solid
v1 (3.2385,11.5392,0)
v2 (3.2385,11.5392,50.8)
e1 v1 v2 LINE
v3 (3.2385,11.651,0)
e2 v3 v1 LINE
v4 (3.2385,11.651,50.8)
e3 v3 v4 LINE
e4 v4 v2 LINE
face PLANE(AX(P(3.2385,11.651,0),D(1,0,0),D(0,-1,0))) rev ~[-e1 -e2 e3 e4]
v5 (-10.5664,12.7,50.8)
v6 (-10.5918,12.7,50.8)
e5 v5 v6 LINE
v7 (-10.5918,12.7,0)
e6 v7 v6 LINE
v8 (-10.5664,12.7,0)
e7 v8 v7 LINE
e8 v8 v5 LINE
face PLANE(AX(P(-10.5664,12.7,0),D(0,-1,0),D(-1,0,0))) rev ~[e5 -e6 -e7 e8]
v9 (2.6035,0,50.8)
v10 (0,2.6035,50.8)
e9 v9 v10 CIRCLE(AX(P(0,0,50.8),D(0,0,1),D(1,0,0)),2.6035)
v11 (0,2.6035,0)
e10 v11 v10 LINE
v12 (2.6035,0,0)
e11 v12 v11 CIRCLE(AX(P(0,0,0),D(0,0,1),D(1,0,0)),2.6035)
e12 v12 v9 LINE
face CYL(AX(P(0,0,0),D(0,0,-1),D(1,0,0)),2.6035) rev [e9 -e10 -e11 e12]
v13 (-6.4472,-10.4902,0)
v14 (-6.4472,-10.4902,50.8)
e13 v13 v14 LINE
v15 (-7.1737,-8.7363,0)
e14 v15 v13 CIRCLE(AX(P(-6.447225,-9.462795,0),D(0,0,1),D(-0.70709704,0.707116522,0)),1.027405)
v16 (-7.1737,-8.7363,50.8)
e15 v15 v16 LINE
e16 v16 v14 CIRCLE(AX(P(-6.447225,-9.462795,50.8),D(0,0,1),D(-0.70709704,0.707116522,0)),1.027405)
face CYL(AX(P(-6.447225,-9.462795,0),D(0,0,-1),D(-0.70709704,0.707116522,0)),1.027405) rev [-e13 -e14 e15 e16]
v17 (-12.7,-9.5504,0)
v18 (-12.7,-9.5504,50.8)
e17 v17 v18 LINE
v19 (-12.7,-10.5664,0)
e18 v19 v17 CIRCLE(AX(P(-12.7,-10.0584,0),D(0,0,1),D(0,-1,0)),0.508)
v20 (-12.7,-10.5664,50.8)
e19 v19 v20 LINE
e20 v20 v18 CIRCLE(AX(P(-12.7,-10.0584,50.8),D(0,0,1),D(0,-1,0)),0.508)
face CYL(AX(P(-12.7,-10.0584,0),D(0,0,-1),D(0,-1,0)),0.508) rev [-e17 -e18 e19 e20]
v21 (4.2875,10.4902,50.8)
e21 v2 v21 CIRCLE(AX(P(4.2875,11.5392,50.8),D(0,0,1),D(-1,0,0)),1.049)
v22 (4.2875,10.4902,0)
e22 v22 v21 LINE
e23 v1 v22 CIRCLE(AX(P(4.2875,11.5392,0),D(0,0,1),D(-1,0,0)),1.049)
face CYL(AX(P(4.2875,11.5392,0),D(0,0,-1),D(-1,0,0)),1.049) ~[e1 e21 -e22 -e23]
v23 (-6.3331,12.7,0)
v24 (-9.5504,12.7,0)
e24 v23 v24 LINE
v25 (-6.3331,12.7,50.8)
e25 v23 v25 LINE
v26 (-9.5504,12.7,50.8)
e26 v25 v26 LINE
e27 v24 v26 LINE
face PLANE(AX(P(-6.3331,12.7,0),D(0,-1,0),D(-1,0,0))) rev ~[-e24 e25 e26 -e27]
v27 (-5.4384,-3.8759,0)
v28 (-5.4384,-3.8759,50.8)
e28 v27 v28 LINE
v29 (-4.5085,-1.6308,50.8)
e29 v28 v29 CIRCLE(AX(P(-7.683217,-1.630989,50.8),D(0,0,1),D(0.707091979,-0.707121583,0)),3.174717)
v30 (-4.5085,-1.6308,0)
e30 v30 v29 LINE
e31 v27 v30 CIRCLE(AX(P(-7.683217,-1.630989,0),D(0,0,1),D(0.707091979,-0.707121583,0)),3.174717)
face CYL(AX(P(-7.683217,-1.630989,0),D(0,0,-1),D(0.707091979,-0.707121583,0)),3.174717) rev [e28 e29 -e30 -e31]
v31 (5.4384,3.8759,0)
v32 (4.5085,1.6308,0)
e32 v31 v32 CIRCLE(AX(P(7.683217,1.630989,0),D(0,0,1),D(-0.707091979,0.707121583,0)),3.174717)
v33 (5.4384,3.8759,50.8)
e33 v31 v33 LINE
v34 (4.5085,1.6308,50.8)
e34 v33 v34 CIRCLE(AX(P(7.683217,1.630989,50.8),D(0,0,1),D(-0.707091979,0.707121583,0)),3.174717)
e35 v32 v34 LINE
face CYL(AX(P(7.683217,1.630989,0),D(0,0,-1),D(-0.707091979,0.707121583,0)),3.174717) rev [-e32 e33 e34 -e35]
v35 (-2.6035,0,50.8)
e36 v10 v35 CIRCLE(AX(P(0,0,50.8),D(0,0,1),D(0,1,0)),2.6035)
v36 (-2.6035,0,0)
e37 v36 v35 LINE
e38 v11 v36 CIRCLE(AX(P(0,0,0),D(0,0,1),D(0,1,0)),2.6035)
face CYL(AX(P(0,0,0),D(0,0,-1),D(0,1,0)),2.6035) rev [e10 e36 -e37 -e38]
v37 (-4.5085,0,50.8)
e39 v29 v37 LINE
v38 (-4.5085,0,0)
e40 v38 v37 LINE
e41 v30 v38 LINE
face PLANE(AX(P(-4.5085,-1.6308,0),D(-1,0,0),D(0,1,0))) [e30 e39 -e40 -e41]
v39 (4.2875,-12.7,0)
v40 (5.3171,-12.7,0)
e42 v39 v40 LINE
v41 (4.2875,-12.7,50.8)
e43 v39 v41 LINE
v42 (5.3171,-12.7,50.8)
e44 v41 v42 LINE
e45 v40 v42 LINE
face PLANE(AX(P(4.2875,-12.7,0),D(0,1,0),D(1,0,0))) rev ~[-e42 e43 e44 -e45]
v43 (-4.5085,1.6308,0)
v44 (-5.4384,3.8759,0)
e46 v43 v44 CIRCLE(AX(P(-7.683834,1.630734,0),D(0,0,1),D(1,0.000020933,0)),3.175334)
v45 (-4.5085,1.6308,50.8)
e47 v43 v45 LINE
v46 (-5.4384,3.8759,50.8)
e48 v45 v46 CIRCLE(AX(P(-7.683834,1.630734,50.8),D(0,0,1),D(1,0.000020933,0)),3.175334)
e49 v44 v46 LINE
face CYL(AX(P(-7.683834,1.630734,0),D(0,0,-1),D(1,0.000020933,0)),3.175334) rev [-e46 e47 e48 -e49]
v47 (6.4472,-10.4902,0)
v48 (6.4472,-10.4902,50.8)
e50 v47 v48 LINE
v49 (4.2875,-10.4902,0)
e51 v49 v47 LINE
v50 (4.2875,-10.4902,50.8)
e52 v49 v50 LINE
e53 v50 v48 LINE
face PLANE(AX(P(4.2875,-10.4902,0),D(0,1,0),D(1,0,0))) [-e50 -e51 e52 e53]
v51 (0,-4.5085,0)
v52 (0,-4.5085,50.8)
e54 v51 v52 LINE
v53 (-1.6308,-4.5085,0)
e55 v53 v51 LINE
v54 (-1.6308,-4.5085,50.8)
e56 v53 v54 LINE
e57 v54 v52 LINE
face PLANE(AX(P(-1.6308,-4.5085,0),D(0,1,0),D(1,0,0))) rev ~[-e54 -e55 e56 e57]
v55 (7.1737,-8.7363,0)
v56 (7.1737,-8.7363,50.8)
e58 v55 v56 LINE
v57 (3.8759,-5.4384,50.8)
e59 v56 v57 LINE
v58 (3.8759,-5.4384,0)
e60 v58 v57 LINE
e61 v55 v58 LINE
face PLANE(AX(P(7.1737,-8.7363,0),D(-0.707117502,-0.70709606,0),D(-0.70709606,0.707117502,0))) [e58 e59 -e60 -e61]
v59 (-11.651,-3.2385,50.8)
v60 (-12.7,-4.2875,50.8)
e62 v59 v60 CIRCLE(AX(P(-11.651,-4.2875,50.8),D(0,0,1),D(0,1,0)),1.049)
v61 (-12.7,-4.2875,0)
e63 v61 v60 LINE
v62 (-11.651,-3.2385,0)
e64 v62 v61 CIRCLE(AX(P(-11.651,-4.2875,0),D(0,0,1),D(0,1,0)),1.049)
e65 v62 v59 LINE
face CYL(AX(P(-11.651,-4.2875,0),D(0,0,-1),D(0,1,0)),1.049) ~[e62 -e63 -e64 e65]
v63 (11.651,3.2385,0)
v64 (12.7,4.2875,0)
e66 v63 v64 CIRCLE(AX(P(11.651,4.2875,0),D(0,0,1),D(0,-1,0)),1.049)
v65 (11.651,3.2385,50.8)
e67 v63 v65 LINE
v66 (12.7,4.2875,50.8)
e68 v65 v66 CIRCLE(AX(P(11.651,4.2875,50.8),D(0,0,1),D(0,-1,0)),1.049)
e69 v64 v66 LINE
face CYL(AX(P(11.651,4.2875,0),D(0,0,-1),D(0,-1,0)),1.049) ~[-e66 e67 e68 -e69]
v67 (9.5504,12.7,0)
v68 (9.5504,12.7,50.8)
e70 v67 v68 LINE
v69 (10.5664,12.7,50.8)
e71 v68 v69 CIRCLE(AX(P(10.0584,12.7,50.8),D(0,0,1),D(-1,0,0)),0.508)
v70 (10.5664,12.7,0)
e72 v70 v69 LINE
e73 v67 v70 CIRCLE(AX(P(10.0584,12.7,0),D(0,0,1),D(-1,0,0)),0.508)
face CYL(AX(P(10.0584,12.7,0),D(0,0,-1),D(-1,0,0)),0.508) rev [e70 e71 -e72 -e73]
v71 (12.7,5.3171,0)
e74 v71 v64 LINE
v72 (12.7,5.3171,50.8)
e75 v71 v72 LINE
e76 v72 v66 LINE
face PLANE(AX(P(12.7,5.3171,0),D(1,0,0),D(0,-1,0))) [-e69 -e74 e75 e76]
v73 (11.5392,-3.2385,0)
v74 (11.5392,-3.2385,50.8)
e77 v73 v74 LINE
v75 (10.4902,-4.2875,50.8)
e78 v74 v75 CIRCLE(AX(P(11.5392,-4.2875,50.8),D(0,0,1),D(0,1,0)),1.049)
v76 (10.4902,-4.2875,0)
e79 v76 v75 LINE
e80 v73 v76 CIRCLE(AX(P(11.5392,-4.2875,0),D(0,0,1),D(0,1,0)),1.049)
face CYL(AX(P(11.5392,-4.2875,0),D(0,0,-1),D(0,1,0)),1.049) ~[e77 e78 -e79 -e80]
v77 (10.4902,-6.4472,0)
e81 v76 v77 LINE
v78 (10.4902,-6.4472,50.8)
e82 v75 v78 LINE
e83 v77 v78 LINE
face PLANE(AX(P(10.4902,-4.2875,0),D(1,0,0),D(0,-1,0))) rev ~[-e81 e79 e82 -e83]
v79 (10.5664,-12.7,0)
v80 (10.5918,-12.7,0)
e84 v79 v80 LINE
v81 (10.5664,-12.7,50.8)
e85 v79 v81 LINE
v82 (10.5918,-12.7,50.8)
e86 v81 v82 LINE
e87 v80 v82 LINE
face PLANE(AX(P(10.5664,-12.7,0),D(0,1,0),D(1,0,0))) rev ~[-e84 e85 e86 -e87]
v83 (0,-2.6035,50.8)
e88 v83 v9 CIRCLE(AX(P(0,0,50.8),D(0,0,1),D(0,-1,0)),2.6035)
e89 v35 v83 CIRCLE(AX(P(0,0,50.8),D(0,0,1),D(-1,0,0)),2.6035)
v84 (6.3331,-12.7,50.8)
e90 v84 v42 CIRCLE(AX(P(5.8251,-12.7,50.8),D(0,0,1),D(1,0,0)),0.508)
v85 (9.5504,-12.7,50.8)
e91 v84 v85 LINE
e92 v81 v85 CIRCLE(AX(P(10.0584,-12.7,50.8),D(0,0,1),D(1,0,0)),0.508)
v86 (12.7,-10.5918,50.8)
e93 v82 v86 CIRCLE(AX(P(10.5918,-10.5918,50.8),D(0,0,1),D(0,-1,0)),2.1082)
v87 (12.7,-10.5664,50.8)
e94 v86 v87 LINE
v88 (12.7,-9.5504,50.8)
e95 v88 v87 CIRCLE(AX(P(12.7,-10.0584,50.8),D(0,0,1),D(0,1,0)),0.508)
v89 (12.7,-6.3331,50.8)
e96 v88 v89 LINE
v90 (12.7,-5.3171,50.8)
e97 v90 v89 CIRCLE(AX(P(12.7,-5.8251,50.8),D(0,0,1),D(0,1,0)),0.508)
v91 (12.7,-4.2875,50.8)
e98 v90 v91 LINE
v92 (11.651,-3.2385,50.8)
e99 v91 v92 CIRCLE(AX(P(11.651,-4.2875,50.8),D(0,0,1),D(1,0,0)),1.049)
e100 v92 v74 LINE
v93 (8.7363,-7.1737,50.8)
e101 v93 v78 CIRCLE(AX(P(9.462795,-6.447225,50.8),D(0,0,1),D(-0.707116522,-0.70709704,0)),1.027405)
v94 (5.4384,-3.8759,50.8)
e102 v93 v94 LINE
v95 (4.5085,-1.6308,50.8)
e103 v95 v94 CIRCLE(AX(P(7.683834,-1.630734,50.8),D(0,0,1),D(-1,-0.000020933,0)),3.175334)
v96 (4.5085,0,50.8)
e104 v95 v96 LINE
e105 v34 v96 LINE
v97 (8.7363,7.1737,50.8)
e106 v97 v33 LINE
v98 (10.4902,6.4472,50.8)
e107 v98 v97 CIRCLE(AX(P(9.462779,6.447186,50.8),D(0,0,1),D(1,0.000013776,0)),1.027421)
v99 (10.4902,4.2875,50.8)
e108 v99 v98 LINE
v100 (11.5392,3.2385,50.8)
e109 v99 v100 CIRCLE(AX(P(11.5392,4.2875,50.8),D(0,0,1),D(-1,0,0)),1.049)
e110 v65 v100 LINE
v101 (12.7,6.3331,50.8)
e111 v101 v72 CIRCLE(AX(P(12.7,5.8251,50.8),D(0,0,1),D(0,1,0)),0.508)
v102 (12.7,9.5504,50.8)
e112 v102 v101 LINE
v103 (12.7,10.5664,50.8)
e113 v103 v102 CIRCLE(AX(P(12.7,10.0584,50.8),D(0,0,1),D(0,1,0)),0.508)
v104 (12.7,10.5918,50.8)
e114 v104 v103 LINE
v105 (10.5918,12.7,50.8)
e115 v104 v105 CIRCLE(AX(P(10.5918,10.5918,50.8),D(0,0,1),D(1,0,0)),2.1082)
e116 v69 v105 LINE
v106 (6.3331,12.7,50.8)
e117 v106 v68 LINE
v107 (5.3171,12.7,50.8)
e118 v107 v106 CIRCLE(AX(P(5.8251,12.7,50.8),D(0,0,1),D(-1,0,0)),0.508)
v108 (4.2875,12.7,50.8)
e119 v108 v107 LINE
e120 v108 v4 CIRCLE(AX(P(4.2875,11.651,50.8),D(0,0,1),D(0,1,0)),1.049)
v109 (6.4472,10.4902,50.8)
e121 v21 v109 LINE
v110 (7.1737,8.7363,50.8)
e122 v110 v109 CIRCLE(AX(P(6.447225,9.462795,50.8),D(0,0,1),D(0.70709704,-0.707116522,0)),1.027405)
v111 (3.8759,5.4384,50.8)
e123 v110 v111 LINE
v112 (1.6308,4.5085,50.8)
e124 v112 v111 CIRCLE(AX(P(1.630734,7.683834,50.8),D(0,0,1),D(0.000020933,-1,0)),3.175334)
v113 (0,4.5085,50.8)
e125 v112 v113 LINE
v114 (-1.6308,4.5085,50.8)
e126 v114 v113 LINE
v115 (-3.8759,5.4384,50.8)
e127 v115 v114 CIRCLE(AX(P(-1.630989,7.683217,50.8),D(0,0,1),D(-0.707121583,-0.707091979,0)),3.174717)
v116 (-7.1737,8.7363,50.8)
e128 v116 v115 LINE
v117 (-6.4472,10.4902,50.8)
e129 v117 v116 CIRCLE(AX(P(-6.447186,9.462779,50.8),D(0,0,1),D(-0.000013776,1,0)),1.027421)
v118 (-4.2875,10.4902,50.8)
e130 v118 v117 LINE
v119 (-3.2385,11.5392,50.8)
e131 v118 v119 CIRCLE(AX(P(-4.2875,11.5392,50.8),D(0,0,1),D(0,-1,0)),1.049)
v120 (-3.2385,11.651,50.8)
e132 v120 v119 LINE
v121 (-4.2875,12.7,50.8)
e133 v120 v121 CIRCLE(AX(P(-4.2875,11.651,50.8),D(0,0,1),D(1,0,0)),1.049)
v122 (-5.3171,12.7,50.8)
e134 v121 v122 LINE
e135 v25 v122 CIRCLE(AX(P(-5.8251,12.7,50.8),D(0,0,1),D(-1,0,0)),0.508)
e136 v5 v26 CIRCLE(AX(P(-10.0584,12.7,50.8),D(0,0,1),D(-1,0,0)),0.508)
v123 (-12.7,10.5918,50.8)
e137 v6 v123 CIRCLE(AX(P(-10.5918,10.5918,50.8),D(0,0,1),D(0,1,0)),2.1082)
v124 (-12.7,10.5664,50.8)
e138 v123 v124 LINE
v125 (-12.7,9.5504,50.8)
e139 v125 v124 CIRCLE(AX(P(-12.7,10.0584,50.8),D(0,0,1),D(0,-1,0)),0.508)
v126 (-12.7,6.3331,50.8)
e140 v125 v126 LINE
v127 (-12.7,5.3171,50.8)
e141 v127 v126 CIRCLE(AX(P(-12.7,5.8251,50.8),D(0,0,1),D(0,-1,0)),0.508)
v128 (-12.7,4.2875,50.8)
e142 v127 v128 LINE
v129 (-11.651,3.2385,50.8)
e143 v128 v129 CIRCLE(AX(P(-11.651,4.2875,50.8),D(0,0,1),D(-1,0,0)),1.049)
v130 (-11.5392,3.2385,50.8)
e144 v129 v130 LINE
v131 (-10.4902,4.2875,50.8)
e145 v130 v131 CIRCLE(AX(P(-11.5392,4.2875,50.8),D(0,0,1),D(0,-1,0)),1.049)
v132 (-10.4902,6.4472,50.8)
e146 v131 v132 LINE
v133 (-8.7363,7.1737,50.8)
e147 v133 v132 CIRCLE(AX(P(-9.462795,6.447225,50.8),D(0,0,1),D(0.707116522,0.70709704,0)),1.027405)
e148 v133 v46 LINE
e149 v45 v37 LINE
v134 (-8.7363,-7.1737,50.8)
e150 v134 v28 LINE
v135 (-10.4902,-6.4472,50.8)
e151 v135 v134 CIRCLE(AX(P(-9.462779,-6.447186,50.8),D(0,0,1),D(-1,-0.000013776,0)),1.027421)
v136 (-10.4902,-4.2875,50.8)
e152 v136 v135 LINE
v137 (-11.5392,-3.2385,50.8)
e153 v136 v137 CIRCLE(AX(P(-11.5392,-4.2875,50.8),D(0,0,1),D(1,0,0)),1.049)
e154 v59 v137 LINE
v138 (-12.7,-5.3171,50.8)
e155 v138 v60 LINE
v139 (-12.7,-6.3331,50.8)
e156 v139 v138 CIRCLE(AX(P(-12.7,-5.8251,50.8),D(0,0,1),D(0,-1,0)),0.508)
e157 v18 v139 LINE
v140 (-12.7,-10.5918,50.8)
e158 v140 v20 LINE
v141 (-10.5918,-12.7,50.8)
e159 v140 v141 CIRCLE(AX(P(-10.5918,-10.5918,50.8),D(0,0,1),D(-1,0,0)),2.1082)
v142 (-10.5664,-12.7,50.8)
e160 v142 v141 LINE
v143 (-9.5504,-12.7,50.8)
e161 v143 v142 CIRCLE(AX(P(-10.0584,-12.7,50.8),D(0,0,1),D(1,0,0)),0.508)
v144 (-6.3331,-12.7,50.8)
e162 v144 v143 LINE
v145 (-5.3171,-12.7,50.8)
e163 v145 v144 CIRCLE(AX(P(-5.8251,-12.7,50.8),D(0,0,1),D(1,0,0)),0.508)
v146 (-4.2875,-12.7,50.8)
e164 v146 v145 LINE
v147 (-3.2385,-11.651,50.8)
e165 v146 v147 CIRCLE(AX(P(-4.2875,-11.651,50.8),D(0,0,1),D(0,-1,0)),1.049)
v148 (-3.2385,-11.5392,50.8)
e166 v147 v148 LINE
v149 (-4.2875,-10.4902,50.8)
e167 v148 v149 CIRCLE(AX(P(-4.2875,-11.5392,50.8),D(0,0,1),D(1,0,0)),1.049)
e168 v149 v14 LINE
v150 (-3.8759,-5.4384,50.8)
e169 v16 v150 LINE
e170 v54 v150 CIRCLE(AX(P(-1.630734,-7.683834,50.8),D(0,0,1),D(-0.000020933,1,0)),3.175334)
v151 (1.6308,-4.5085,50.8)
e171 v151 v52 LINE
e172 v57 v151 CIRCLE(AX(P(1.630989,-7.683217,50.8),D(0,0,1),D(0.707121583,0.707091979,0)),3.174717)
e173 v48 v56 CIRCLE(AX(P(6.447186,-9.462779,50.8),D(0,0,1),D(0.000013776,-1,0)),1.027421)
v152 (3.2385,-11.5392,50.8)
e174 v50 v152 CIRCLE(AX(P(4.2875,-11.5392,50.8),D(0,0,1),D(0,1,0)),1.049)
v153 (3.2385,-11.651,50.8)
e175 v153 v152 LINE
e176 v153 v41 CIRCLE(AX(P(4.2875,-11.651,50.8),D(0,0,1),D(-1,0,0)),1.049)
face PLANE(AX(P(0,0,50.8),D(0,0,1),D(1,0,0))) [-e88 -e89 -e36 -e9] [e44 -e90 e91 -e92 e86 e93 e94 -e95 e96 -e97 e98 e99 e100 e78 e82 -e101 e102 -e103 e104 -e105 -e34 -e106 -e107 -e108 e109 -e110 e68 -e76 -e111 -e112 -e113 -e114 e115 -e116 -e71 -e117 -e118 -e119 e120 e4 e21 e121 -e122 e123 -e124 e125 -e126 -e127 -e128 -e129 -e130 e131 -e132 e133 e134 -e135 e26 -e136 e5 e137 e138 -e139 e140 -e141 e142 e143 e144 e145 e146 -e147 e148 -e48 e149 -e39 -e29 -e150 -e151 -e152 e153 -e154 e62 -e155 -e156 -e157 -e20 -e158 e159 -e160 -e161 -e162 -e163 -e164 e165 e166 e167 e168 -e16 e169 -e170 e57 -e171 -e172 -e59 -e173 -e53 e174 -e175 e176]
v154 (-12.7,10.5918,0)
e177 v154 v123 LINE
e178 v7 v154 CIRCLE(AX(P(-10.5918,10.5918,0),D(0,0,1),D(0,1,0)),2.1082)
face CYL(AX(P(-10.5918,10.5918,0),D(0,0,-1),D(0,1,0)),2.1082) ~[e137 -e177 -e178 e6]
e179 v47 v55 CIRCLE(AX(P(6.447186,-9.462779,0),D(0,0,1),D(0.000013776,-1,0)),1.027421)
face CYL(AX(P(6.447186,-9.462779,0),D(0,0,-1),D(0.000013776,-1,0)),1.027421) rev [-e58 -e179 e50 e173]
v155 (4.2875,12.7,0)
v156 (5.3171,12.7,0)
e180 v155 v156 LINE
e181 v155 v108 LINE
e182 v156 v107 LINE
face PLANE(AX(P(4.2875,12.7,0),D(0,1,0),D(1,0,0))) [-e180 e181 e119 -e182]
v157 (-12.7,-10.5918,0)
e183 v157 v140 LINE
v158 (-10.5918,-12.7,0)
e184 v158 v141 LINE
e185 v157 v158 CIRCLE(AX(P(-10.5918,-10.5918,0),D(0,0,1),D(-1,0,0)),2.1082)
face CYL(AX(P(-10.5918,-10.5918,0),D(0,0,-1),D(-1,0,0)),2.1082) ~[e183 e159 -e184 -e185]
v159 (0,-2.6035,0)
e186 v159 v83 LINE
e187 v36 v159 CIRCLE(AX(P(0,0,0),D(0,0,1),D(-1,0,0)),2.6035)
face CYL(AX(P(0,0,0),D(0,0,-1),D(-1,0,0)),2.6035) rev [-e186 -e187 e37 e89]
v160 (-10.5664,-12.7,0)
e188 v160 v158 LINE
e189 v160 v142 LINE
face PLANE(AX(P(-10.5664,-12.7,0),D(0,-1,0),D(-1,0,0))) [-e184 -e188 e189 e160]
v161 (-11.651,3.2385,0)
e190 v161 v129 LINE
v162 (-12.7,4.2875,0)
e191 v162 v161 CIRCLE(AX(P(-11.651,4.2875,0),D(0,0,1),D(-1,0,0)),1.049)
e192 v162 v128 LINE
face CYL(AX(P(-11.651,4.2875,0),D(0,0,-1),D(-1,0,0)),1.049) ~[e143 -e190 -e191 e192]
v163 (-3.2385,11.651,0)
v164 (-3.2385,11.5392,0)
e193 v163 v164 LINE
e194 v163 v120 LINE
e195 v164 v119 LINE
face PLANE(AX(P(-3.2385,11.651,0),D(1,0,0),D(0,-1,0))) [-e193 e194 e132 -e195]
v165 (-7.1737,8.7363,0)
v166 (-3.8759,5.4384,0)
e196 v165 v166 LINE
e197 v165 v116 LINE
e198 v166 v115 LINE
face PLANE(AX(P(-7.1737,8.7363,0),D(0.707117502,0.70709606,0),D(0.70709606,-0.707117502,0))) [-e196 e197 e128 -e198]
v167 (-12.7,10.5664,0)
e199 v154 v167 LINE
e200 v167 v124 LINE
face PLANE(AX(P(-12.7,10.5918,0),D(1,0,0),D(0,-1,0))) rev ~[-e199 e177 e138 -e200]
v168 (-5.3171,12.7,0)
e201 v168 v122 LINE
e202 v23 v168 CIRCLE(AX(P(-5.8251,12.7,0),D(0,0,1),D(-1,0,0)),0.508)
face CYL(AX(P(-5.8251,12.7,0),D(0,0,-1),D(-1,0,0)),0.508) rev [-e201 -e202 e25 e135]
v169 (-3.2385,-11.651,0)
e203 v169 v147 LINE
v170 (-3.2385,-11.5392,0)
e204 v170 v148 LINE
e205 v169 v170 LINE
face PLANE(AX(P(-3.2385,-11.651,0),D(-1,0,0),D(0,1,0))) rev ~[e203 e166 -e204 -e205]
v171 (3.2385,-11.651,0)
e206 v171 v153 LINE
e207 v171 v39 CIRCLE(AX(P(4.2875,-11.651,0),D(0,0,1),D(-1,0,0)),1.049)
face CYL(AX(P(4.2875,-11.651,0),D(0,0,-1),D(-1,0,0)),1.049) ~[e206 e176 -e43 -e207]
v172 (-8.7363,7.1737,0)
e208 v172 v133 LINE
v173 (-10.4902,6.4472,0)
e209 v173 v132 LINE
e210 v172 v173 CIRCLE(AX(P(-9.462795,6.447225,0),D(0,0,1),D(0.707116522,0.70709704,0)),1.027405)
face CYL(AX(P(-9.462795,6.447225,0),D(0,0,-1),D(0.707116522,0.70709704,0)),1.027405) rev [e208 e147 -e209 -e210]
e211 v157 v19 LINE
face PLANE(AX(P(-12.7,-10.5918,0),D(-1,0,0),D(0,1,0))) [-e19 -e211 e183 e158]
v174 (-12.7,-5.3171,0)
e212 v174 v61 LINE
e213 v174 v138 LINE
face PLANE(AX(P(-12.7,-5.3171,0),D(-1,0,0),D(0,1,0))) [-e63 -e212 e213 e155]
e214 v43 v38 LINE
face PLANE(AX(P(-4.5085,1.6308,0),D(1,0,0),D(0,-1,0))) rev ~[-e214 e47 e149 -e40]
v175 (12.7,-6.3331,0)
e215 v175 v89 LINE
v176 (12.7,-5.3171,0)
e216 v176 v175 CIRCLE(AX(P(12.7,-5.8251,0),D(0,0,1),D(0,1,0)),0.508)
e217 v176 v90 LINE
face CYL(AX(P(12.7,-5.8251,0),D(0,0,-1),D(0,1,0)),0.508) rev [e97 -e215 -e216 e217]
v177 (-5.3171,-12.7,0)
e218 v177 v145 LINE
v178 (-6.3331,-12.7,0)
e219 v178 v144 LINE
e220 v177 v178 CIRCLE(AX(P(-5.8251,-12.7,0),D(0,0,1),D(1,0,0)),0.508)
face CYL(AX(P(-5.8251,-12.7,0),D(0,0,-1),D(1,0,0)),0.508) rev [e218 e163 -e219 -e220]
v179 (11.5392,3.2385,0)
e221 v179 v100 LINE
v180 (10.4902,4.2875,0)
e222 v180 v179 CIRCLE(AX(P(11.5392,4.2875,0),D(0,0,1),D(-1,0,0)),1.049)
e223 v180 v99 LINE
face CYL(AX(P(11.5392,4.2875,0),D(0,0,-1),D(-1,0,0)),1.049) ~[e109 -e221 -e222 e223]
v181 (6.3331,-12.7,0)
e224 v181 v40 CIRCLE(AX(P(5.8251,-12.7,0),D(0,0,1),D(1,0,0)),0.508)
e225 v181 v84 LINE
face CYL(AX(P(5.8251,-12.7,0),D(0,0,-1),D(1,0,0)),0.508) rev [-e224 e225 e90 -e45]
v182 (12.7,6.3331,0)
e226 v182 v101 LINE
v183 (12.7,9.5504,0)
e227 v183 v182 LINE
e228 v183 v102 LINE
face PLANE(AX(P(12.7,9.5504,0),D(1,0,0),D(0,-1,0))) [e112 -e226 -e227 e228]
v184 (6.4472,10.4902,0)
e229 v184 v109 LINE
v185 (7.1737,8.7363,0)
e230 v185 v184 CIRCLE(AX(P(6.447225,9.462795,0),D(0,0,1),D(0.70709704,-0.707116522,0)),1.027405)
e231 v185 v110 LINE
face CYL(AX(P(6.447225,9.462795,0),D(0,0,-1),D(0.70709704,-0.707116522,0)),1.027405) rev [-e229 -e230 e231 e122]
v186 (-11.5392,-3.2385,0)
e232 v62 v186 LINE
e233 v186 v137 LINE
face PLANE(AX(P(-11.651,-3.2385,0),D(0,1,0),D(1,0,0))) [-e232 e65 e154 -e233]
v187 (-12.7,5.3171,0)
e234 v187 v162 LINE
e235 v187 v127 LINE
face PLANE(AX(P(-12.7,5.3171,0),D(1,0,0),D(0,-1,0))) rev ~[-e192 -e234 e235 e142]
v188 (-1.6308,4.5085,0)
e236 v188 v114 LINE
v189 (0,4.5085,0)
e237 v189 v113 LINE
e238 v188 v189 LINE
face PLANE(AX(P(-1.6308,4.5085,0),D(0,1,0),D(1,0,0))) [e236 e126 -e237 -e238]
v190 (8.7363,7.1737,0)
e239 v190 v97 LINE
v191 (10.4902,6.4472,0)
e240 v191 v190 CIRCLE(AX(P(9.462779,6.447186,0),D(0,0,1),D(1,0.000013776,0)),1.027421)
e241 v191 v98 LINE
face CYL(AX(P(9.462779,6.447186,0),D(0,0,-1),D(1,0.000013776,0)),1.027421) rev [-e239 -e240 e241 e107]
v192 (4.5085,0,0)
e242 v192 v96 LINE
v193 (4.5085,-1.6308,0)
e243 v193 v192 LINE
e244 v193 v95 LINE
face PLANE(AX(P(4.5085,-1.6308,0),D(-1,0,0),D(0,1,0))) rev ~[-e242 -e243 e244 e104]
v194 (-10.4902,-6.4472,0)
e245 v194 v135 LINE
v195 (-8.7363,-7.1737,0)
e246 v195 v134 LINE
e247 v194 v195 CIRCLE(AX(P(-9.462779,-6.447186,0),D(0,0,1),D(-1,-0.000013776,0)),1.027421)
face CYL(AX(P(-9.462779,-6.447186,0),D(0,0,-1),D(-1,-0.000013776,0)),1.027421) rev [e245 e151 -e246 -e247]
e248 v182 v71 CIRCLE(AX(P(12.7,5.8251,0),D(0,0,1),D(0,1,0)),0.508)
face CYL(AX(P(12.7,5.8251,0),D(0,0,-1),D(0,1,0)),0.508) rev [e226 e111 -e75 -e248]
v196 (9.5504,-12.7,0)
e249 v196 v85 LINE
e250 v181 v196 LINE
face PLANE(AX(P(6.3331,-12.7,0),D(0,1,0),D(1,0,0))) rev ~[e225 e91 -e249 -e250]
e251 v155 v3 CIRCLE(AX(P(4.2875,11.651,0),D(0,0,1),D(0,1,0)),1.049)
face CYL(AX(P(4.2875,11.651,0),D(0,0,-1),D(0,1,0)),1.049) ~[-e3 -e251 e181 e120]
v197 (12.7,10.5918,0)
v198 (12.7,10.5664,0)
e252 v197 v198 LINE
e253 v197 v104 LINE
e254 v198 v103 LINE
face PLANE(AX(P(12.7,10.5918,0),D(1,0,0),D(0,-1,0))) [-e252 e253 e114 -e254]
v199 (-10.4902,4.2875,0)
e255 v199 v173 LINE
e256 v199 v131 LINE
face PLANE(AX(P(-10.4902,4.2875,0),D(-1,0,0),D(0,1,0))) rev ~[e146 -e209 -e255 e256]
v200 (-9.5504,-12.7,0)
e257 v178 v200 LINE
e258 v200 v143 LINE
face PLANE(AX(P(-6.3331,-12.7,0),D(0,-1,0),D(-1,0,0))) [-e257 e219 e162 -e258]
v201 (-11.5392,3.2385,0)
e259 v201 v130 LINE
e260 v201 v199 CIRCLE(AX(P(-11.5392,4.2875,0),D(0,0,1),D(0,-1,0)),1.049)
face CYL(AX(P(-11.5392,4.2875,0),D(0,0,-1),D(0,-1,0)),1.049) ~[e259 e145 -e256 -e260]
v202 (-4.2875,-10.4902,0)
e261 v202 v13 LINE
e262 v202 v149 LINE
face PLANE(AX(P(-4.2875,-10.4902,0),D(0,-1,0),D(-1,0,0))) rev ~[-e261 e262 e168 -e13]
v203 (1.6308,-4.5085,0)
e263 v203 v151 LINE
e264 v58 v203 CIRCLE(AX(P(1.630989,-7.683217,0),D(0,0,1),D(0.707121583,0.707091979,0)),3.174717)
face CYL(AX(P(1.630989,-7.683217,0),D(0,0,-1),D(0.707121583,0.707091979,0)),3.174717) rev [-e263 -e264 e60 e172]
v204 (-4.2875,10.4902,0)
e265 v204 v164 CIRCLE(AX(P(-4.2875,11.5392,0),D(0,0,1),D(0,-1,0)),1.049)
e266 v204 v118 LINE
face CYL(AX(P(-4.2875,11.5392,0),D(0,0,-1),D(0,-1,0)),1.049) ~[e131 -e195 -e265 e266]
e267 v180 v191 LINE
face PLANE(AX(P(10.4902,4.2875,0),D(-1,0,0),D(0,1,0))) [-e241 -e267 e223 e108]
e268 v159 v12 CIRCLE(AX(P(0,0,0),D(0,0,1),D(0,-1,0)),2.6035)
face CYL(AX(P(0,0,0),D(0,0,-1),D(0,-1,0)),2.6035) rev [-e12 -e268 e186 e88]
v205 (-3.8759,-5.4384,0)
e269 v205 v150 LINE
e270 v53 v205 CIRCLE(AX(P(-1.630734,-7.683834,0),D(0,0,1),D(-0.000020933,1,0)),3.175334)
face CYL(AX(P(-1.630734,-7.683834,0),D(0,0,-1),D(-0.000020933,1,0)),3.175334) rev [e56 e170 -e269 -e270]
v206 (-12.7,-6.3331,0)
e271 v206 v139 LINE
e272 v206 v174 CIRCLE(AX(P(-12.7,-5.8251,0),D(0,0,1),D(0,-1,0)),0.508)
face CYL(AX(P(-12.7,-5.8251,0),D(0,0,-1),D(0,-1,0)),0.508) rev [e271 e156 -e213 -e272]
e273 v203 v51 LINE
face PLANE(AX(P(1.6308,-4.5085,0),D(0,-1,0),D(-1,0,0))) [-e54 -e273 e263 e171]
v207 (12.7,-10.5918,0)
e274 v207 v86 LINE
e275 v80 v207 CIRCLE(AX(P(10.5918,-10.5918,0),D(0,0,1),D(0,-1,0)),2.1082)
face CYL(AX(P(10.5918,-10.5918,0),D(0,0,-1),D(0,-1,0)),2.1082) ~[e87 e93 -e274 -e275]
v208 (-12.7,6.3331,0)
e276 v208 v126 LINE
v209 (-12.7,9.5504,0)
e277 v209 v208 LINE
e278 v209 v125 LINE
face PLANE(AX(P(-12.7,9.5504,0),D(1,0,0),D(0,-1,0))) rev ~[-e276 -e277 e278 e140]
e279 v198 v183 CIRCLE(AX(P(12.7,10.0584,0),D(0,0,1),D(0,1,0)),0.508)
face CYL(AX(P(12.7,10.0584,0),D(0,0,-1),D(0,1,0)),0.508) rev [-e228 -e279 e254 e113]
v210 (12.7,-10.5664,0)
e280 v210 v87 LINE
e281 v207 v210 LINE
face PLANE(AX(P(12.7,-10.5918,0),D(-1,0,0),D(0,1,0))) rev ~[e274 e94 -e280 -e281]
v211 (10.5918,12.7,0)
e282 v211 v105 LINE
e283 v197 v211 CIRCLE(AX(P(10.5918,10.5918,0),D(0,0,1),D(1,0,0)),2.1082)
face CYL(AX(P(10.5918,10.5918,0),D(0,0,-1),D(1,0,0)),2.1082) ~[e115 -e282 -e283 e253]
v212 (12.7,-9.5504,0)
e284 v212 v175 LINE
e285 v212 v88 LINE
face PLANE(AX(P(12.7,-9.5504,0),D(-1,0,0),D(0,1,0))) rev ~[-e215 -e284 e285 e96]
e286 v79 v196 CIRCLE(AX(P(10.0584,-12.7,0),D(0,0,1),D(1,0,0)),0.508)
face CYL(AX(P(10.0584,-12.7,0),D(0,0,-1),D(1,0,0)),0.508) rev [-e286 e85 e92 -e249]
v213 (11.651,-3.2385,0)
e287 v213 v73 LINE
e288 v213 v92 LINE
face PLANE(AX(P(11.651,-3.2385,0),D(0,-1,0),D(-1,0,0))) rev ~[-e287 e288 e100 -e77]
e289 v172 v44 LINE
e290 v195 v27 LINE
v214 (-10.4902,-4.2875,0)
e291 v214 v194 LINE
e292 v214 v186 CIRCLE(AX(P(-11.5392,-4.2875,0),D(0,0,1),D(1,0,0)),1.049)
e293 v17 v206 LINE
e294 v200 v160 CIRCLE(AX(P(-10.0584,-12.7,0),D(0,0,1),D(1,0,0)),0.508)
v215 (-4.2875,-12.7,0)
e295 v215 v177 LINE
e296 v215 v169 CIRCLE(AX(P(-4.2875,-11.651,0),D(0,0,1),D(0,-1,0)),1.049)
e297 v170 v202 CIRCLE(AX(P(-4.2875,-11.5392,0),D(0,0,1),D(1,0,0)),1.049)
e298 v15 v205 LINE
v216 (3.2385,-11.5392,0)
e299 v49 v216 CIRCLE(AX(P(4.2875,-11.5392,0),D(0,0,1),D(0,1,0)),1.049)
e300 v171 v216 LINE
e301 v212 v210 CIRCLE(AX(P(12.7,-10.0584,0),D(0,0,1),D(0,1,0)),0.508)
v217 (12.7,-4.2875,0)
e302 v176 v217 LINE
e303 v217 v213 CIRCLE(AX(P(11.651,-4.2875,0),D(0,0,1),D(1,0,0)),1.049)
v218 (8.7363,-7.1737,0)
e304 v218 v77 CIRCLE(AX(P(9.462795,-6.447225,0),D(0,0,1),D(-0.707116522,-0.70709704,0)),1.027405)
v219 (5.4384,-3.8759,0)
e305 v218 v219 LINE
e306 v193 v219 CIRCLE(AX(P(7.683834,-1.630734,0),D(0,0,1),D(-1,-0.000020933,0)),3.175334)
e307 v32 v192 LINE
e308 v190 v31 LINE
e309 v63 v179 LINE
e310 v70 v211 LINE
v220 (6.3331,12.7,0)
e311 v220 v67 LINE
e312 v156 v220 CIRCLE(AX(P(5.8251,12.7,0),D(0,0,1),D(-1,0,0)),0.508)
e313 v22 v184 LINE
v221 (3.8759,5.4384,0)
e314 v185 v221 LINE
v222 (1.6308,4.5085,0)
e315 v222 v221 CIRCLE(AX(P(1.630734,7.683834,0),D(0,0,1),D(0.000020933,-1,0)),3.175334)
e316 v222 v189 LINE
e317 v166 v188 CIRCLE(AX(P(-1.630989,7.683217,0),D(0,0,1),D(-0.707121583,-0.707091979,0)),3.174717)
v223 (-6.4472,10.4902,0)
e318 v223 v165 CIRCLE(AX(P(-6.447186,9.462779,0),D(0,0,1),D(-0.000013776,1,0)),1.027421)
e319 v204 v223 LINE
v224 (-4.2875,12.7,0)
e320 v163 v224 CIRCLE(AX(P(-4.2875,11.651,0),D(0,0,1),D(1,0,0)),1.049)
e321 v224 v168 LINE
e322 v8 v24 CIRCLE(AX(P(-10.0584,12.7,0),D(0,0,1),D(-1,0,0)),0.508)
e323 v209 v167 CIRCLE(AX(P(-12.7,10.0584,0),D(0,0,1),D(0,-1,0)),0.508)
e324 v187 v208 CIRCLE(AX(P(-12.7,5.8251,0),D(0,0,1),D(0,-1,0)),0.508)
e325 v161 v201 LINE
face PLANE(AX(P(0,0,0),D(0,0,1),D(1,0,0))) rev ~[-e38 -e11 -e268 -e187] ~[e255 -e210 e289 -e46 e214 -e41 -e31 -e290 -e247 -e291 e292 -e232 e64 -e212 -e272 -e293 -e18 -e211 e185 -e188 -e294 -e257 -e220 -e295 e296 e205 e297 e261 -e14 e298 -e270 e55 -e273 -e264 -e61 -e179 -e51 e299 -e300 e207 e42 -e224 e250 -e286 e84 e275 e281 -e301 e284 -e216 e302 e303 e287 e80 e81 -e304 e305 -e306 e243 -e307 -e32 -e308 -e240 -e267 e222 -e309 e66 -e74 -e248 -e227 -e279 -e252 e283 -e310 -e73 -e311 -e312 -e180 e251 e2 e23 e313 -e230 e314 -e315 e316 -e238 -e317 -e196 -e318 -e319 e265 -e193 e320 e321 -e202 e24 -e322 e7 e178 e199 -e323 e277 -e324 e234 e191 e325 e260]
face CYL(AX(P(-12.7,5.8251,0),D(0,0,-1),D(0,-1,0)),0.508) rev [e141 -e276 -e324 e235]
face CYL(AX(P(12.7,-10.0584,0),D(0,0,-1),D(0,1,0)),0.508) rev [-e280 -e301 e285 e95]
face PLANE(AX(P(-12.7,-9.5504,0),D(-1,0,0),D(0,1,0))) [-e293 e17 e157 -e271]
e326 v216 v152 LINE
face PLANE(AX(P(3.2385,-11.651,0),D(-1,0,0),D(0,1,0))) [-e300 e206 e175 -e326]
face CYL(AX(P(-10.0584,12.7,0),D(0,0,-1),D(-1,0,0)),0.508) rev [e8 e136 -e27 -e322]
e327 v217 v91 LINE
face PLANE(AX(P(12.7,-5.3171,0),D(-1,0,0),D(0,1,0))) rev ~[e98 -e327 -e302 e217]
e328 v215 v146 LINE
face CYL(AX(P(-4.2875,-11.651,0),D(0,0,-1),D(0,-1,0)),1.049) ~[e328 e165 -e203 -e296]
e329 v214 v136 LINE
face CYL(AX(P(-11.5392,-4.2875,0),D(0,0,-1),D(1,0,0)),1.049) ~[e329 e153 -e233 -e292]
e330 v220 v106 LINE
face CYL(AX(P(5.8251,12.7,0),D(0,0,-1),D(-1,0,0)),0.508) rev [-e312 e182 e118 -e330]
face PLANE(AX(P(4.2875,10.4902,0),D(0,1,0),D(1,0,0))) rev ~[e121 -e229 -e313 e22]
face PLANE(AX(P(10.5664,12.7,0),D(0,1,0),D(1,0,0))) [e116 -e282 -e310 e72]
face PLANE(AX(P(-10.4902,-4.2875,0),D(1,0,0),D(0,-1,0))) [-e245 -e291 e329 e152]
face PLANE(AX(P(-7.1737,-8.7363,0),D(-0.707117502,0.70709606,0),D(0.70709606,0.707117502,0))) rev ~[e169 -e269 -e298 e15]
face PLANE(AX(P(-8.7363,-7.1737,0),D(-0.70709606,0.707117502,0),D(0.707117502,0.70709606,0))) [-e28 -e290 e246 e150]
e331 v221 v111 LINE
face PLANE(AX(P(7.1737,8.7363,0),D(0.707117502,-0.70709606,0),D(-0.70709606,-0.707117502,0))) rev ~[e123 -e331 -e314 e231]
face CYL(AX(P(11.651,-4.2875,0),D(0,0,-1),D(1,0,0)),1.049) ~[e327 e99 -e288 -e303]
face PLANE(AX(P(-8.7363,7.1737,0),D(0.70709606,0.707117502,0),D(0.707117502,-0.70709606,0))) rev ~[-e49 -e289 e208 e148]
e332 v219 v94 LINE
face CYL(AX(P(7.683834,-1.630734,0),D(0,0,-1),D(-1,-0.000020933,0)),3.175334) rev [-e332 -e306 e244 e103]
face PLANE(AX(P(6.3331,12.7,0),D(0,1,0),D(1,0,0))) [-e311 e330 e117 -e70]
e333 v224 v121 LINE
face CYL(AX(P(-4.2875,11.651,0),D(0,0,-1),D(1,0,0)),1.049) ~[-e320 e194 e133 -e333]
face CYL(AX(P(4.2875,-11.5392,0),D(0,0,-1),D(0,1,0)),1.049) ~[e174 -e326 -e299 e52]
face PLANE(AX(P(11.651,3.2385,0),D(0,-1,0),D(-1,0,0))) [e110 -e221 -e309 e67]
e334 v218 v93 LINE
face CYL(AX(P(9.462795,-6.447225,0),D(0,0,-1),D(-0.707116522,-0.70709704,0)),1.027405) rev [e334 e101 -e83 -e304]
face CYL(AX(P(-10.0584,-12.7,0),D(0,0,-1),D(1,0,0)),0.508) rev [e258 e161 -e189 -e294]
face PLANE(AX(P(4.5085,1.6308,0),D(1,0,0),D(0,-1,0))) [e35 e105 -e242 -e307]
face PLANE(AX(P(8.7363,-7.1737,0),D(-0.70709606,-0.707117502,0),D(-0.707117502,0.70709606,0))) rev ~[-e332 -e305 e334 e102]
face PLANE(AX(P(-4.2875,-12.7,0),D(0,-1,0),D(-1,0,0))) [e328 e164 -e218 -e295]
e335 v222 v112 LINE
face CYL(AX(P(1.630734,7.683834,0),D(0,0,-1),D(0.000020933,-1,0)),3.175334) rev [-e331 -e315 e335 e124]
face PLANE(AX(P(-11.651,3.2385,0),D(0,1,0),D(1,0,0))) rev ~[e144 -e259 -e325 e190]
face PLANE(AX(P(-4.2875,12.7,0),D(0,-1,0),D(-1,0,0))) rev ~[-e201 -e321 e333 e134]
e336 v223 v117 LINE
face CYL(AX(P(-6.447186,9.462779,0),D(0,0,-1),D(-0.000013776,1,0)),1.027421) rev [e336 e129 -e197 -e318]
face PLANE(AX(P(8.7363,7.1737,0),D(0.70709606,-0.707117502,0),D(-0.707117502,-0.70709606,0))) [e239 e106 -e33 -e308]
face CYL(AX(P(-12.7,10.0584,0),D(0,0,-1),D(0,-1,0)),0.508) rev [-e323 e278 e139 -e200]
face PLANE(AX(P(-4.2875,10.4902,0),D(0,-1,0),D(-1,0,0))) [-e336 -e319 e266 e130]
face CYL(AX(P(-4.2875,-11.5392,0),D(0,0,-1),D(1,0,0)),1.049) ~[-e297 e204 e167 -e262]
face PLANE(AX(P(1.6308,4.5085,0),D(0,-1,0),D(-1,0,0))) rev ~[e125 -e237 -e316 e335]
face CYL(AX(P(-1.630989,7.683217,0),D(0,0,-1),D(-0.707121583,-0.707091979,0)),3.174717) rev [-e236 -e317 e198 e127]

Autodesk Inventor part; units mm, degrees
ref_plane "YZ Plane" through (0, 0, 0) normal (1, 0, 0) x (0, 1, 0)
ref_plane "Start Plane" through (0, 0, 0) normal (0, 0, 1) x (1, 0, 0)
ref_plane "End Plane" through (0, 0, 50.8) normal (0, 0, 1) x (1, 0, 0)
sketch "Sketch2" plane through (0, 0, 0) normal (0, 0, 1) x (1, 0, 0)
  line L0 (-11.651, 3.2385) -> (-11.5392, 3.2385)
  line L1 (-10.4902, 4.2875) -> (-10.4902, 6.4472)
  line L2 (-8.7363, 7.1737) -> (-5.4384, 3.8759)
  line L3 (-4.5085, 1.6308) -> (-4.5085, 0)
  line L4 (-3.2385, 11.651) -> (-3.2385, 11.5392)
  line L5 (-4.2875, 10.4902) -> (-6.4472, 10.4902)
  line L6 (-7.1737, 8.7363) -> (-3.8759, 5.4384)
  line L7 (-1.6308, 4.5085) -> (0, 4.5085)
  line L8 (-12.7, 12.7) -> (0, 0) construction
  line L9 (0, 12.7) -> (0, 0) construction
  line L10 (0, 0) -> (-12.7, 0) construction
  arc A0 (-10.5918, 12.7) -> (-12.7, 10.5918) centre (-10.5918, 10.5918) ccw
  arc A1 (-12.7, 4.2875) -> (-11.651, 3.2385) centre (-11.651, 4.2875) ccw
  arc A2 (-11.5392, 3.2385) -> (-10.4902, 4.2875) centre (-11.5392, 4.2875) ccw
  arc A3 (-4.2875, 10.4902) -> (-3.2385, 11.5392) centre (-4.2875, 11.5392) ccw
  arc A4 (-3.2385, 11.651) -> (-4.2875, 12.7) centre (-4.2875, 11.651) ccw
  arc A5 (-4.5085, 1.6308) -> (-5.4384, 3.8759) centre (-7.6835, 1.6308) ccw
  arc A6 (-3.8759, 5.4384) -> (-1.6308, 4.5085) centre (-1.6308, 7.6835) ccw
  arc A7 (-8.7363, 7.1737) -> (-10.4902, 6.4472) centre (-9.4628, 6.4472) ccw
  arc A8 (-6.4472, 10.4902) -> (-7.1737, 8.7363) centre (-6.4472, 9.4628) ccw
  arc A9 (0, 2.6035) -> (-2.6035, 0) centre (0, 0) ccw
  arc A10 (-10.5664, 12.7) -> (-9.5504, 12.7) centre (-10.0584, 12.7) ccw
  arc A11 (-6.3331, 12.7) -> (-5.3171, 12.7) centre (-5.8251, 12.7) ccw
  arc A12 (-12.7, 9.5504) -> (-12.7, 10.5664) centre (-12.7, 10.0584) ccw
  arc A13 (-12.7, 5.3171) -> (-12.7, 6.3331) centre (-12.7, 5.8251) ccw
  line L11 (-4.2875, 12.7) -> (-5.3171, 12.7)
  line L12 (-6.3331, 12.7) -> (-9.5504, 12.7)
  line L13 (-10.5664, 12.7) -> (-10.5918, 12.7)
  line L14 (-12.7, 10.5918) -> (-12.7, 10.5664)
  line L15 (-12.7, 9.5504) -> (-12.7, 6.3331)
  line L16 (-12.7, 5.3171) -> (-12.7, 4.2875)
  line L17 (11.651, 3.2385) -> (11.5392, 3.2385)
  line L18 (10.4902, 4.2875) -> (10.4902, 6.4472)
  line L19 (8.7363, 7.1737) -> (5.4384, 3.8759)
  line L20 (4.5085, 1.6308) -> (4.5085, 0)
  line L21 (3.2385, 11.651) -> (3.2385, 11.5392)
  line L22 (4.2875, 10.4902) -> (6.4472, 10.4902)
  line L23 (7.1737, 8.7363) -> (3.8759, 5.4384)
  line L24 (1.6308, 4.5085) -> (0, 4.5085)
  arc A14 (12.7, 10.5918) -> (10.5918, 12.7) centre (10.5918, 10.5918) ccw
  arc A15 (11.651, 3.2385) -> (12.7, 4.2875) centre (11.651, 4.2875) ccw
  arc A16 (10.4902, 4.2875) -> (11.5392, 3.2385) centre (11.5392, 4.2875) ccw
  arc A17 (3.2385, 11.5392) -> (4.2875, 10.4902) centre (4.2875, 11.5392) ccw
  arc A18 (4.2875, 12.7) -> (3.2385, 11.651) centre (4.2875, 11.651) ccw
  arc A19 (5.4384, 3.8759) -> (4.5085, 1.6308) centre (7.6835, 1.6308) ccw
  arc A20 (1.6308, 4.5085) -> (3.8759, 5.4384) centre (1.6308, 7.6835) ccw
  arc A21 (10.4902, 6.4472) -> (8.7363, 7.1737) centre (9.4628, 6.4472) ccw
  arc A22 (7.1737, 8.7363) -> (6.4472, 10.4902) centre (6.4472, 9.4628) ccw
  arc A23 (2.6035, 0) -> (0, 2.6035) centre (0, 0) ccw
  arc A24 (9.5504, 12.7) -> (10.5664, 12.7) centre (10.0584, 12.7) ccw
  arc A25 (5.3171, 12.7) -> (6.3331, 12.7) centre (5.8251, 12.7) ccw
  arc A26 (12.7, 10.5664) -> (12.7, 9.5504) centre (12.7, 10.0584) ccw
  arc A27 (12.7, 6.3331) -> (12.7, 5.3171) centre (12.7, 5.8251) ccw
  line L25 (4.2875, 12.7) -> (5.3171, 12.7)
  line L26 (6.3331, 12.7) -> (9.5504, 12.7)
  line L27 (10.5664, 12.7) -> (10.5918, 12.7)
  line L28 (12.7, 10.5918) -> (12.7, 10.5664)
  line L29 (12.7, 9.5504) -> (12.7, 6.3331)
  line L30 (12.7, 5.3171) -> (12.7, 4.2875)
  line L31 (-11.651, -3.2385) -> (-11.5392, -3.2385)
  line L32 (-10.4902, -4.2875) -> (-10.4902, -6.4472)
  line L33 (-8.7363, -7.1737) -> (-5.4384, -3.8759)
  line L34 (-3.2385, -11.651) -> (-3.2385, -11.5392)
  line L35 (-4.2875, -10.4902) -> (-6.4472, -10.4902)
  line L36 (-7.1737, -8.7363) -> (-3.8759, -5.4384)
  line L37 (-1.6308, -4.5085) -> (0, -4.5085)
  arc A28 (-12.7, -10.5918) -> (-10.5918, -12.7) centre (-10.5918, -10.5918) ccw
  arc A29 (-11.651, -3.2385) -> (-12.7, -4.2875) centre (-11.651, -4.2875) ccw
  arc A30 (-10.4902, -4.2875) -> (-11.5392, -3.2385) centre (-11.5392, -4.2875) ccw
  arc A31 (-3.2385, -11.5392) -> (-4.2875, -10.4902) centre (-4.2875, -11.5392) ccw
  arc A32 (-4.2875, -12.7) -> (-3.2385, -11.651) centre (-4.2875, -11.651) ccw
  arc A33 (-5.4384, -3.8759) -> (-4.5085, -1.6308) centre (-7.6835, -1.6308) ccw
  arc A34 (-1.6308, -4.5085) -> (-3.8759, -5.4384) centre (-1.6308, -7.6835) ccw
  arc A35 (-10.4902, -6.4472) -> (-8.7363, -7.1737) centre (-9.4628, -6.4472) ccw
  arc A36 (-7.1737, -8.7363) -> (-6.4472, -10.4902) centre (-6.4472, -9.4628) ccw
  arc A37 (-9.5504, -12.7) -> (-10.5664, -12.7) centre (-10.0584, -12.7) ccw
  arc A38 (-5.3171, -12.7) -> (-6.3331, -12.7) centre (-5.8251, -12.7) ccw
  arc A39 (-12.7, -10.5664) -> (-12.7, -9.5504) centre (-12.7, -10.0584) ccw
  arc A40 (-12.7, -6.3331) -> (-12.7, -5.3171) centre (-12.7, -5.8251) ccw
  line L38 (-4.2875, -12.7) -> (-5.3171, -12.7)
  line L39 (-6.3331, -12.7) -> (-9.5504, -12.7)
  line L40 (-10.5664, -12.7) -> (-10.5918, -12.7)
  line L41 (-12.7, -10.5918) -> (-12.7, -10.5664)
  line L42 (-12.7, -9.5504) -> (-12.7, -6.3331)
  line L43 (-12.7, -5.3171) -> (-12.7, -4.2875)
  line L44 (10.4902, -4.2875) -> (10.4902, -6.4472)
  arc A41 (4.5085, -1.6308) -> (5.4384, -3.8759) centre (7.6835, -1.6308) ccw
  line L45 (8.7363, -7.1737) -> (5.4384, -3.8759)
  line L46 (7.1737, -8.7363) -> (3.8759, -5.4384)
  arc A42 (3.8759, -5.4384) -> (1.6308, -4.5085) centre (1.6308, -7.6835) ccw
  line L47 (11.651, -3.2385) -> (11.5392, -3.2385)
  line L48 (4.2875, -10.4902) -> (6.4472, -10.4902)
  line L49 (4.2875, -12.7) -> (5.3171, -12.7)
  arc A43 (3.2385, -11.651) -> (4.2875, -12.7) centre (4.2875, -11.651) ccw
  line L50 (3.2385, -11.651) -> (3.2385, -11.5392)
  arc A44 (4.2875, -10.4902) -> (3.2385, -11.5392) centre (4.2875, -11.5392) ccw
  arc A45 (6.4472, -10.4902) -> (7.1737, -8.7363) centre (6.4472, -9.4628) ccw
  line L51 (6.3331, -12.7) -> (9.5504, -12.7)
  arc A46 (10.5664, -12.7) -> (9.5504, -12.7) centre (10.0584, -12.7) ccw
  line L52 (10.5664, -12.7) -> (10.5918, -12.7)
  arc A47 (10.5918, -12.7) -> (12.7, -10.5918) centre (10.5918, -10.5918) ccw
  arc A48 (6.3331, -12.7) -> (5.3171, -12.7) centre (5.8251, -12.7) ccw
  arc A49 (12.7, -4.2875) -> (11.651, -3.2385) centre (11.651, -4.2875) ccw
  arc A50 (11.5392, -3.2385) -> (10.4902, -4.2875) centre (11.5392, -4.2875) ccw
  arc A51 (8.7363, -7.1737) -> (10.4902, -6.4472) centre (9.4628, -6.4472) ccw
  line L53 (12.7, -10.5918) -> (12.7, -10.5664)
  arc A52 (12.7, -9.5504) -> (12.7, -10.5664) centre (12.7, -10.0584) ccw
  arc A53 (12.7, -5.3171) -> (12.7, -6.3331) centre (12.7, -5.8251) ccw
  line L54 (12.7, -5.3171) -> (12.7, -4.2875)
  line L55 (12.7, -9.5504) -> (12.7, -6.3331)
  line L56 (1.6308, -4.5085) -> (0, -4.5085)
  line L57 (-4.5085, -1.6308) -> (-4.5085, 0)
  arc A54 (-2.6035, 0) -> (0, -2.6035) centre (0, 0) ccw
  arc A55 (0, -2.6035) -> (2.6035, 0) centre (0, 0) ccw
  line L58 (4.5085, -1.6308) -> (4.5085, 0)
  line L59 (-12.7, 12.7) -> (12.7, 12.7)
  line L60 (12.7, 12.7) -> (12.7, -12.7)
  line L61 (12.7, -12.7) -> (-12.7, -12.7)
  line L62 (-12.7, -12.7) -> (-12.7, 12.7)
  point P0 (-3.2385, 12.7)
  point P1 (-12.7, 3.2385)
  point P2 (-3.2385, 10.4902)
  point P3 (3.2385, 12.7)
  point P4 (12.7, 3.2385)
  point P5 (3.2385, 10.4902)
  point P6 (-3.2385, -12.7)
  point P7 (-12.7, -3.2385)
  point P8 (-3.2385, -10.4902)
  point P9 (0, -12.7)
  point P10 (12.7, -3.2385)
  point P11 (3.2385, -12.7)
  point P12 (3.2385, -10.4902)
  point P13 (0, 12.7)
  dimension "d1" = 2.2098
  dimension "d2" = 3.2385
  dimension "d3" = 2.2098
  dimension "d4" = 4.5085
  dimension "d5" = 2.1082
  dimension "d6" = 1.049
  dimension "d7" = 3.175
  dimension "d8" = 1.0274
  dimension "d9" = 2.6035
  dimension "d10" = 2.5866
  dimension "d11" = 0.508
  dimension "d12" = 2.5866
  dimension "d13" = 3.2385
  dimension "d14" = 12.7
  dimension "d15" = 2.6416
  dimension "d16" = 2.2098
  dimension "d17" = 2.6416
extrude "Body" add sketch "Sketch2" along normal up to surface (50.8 mm away) from surface at 0 contours A1 L16 A13 L15 A12 L14 A0 L13 A10 L12 A11 L11 A4 L4 A3 L5 A8 L6 A6 L7 L24 A20 L23 A22 L22 A17 L21 A18 L25 A25 L26 A24 L27 A14 L28 A26 L29 A27 L30 A15 L17 A16 L18 A21 L19 A19 L20 L58 A41 L45 A51 L44 A50 L47 A49 L54 A53 L55 A52 L53 A47 L52 A46 L51 A48 L49 A43 L50 A44 L48 A45 L46 A42 L56 L37 A34 L36 A36 L35 A31 L34 A32 L38 A38 L39 A37 L40 A28 L41 A39 L42 A40 L43 A29 L31 A30 L32 A35 L33 A33 L57 L3 A5 L2 A7 L1 A2 L0
sketch "Sketch9" plane through (0, 0, 0) normal (0, 0, 1) x (1, 0, 0)
  line L0 (0, 0) -> (10, 0)
ref_plane "Work Plane6" through (0, 0, 0) normal (0, -1, 0) x (1, 0, 0)
sketch "Sketch10" plane through (0, 0, 0) normal (0, -1, 0) x (1, 0, 0)
  line L0 (-17.78, 0) -> (17.78, 0)
  line L1 (-17.78, 50.8) -> (17.78, 50.8)
  dimension "d28" = 50.8
equation "\"d3\" = d1"
equation "\"d12\" = d10"
equation "\"d13\" = d2"
equation "\"G_OFFSET_START\" = 0"
equation "\"G_OFFSET_END\" = 0"
equation "\"G_L\" = 50.8"
properties part number "8020 Profile"
